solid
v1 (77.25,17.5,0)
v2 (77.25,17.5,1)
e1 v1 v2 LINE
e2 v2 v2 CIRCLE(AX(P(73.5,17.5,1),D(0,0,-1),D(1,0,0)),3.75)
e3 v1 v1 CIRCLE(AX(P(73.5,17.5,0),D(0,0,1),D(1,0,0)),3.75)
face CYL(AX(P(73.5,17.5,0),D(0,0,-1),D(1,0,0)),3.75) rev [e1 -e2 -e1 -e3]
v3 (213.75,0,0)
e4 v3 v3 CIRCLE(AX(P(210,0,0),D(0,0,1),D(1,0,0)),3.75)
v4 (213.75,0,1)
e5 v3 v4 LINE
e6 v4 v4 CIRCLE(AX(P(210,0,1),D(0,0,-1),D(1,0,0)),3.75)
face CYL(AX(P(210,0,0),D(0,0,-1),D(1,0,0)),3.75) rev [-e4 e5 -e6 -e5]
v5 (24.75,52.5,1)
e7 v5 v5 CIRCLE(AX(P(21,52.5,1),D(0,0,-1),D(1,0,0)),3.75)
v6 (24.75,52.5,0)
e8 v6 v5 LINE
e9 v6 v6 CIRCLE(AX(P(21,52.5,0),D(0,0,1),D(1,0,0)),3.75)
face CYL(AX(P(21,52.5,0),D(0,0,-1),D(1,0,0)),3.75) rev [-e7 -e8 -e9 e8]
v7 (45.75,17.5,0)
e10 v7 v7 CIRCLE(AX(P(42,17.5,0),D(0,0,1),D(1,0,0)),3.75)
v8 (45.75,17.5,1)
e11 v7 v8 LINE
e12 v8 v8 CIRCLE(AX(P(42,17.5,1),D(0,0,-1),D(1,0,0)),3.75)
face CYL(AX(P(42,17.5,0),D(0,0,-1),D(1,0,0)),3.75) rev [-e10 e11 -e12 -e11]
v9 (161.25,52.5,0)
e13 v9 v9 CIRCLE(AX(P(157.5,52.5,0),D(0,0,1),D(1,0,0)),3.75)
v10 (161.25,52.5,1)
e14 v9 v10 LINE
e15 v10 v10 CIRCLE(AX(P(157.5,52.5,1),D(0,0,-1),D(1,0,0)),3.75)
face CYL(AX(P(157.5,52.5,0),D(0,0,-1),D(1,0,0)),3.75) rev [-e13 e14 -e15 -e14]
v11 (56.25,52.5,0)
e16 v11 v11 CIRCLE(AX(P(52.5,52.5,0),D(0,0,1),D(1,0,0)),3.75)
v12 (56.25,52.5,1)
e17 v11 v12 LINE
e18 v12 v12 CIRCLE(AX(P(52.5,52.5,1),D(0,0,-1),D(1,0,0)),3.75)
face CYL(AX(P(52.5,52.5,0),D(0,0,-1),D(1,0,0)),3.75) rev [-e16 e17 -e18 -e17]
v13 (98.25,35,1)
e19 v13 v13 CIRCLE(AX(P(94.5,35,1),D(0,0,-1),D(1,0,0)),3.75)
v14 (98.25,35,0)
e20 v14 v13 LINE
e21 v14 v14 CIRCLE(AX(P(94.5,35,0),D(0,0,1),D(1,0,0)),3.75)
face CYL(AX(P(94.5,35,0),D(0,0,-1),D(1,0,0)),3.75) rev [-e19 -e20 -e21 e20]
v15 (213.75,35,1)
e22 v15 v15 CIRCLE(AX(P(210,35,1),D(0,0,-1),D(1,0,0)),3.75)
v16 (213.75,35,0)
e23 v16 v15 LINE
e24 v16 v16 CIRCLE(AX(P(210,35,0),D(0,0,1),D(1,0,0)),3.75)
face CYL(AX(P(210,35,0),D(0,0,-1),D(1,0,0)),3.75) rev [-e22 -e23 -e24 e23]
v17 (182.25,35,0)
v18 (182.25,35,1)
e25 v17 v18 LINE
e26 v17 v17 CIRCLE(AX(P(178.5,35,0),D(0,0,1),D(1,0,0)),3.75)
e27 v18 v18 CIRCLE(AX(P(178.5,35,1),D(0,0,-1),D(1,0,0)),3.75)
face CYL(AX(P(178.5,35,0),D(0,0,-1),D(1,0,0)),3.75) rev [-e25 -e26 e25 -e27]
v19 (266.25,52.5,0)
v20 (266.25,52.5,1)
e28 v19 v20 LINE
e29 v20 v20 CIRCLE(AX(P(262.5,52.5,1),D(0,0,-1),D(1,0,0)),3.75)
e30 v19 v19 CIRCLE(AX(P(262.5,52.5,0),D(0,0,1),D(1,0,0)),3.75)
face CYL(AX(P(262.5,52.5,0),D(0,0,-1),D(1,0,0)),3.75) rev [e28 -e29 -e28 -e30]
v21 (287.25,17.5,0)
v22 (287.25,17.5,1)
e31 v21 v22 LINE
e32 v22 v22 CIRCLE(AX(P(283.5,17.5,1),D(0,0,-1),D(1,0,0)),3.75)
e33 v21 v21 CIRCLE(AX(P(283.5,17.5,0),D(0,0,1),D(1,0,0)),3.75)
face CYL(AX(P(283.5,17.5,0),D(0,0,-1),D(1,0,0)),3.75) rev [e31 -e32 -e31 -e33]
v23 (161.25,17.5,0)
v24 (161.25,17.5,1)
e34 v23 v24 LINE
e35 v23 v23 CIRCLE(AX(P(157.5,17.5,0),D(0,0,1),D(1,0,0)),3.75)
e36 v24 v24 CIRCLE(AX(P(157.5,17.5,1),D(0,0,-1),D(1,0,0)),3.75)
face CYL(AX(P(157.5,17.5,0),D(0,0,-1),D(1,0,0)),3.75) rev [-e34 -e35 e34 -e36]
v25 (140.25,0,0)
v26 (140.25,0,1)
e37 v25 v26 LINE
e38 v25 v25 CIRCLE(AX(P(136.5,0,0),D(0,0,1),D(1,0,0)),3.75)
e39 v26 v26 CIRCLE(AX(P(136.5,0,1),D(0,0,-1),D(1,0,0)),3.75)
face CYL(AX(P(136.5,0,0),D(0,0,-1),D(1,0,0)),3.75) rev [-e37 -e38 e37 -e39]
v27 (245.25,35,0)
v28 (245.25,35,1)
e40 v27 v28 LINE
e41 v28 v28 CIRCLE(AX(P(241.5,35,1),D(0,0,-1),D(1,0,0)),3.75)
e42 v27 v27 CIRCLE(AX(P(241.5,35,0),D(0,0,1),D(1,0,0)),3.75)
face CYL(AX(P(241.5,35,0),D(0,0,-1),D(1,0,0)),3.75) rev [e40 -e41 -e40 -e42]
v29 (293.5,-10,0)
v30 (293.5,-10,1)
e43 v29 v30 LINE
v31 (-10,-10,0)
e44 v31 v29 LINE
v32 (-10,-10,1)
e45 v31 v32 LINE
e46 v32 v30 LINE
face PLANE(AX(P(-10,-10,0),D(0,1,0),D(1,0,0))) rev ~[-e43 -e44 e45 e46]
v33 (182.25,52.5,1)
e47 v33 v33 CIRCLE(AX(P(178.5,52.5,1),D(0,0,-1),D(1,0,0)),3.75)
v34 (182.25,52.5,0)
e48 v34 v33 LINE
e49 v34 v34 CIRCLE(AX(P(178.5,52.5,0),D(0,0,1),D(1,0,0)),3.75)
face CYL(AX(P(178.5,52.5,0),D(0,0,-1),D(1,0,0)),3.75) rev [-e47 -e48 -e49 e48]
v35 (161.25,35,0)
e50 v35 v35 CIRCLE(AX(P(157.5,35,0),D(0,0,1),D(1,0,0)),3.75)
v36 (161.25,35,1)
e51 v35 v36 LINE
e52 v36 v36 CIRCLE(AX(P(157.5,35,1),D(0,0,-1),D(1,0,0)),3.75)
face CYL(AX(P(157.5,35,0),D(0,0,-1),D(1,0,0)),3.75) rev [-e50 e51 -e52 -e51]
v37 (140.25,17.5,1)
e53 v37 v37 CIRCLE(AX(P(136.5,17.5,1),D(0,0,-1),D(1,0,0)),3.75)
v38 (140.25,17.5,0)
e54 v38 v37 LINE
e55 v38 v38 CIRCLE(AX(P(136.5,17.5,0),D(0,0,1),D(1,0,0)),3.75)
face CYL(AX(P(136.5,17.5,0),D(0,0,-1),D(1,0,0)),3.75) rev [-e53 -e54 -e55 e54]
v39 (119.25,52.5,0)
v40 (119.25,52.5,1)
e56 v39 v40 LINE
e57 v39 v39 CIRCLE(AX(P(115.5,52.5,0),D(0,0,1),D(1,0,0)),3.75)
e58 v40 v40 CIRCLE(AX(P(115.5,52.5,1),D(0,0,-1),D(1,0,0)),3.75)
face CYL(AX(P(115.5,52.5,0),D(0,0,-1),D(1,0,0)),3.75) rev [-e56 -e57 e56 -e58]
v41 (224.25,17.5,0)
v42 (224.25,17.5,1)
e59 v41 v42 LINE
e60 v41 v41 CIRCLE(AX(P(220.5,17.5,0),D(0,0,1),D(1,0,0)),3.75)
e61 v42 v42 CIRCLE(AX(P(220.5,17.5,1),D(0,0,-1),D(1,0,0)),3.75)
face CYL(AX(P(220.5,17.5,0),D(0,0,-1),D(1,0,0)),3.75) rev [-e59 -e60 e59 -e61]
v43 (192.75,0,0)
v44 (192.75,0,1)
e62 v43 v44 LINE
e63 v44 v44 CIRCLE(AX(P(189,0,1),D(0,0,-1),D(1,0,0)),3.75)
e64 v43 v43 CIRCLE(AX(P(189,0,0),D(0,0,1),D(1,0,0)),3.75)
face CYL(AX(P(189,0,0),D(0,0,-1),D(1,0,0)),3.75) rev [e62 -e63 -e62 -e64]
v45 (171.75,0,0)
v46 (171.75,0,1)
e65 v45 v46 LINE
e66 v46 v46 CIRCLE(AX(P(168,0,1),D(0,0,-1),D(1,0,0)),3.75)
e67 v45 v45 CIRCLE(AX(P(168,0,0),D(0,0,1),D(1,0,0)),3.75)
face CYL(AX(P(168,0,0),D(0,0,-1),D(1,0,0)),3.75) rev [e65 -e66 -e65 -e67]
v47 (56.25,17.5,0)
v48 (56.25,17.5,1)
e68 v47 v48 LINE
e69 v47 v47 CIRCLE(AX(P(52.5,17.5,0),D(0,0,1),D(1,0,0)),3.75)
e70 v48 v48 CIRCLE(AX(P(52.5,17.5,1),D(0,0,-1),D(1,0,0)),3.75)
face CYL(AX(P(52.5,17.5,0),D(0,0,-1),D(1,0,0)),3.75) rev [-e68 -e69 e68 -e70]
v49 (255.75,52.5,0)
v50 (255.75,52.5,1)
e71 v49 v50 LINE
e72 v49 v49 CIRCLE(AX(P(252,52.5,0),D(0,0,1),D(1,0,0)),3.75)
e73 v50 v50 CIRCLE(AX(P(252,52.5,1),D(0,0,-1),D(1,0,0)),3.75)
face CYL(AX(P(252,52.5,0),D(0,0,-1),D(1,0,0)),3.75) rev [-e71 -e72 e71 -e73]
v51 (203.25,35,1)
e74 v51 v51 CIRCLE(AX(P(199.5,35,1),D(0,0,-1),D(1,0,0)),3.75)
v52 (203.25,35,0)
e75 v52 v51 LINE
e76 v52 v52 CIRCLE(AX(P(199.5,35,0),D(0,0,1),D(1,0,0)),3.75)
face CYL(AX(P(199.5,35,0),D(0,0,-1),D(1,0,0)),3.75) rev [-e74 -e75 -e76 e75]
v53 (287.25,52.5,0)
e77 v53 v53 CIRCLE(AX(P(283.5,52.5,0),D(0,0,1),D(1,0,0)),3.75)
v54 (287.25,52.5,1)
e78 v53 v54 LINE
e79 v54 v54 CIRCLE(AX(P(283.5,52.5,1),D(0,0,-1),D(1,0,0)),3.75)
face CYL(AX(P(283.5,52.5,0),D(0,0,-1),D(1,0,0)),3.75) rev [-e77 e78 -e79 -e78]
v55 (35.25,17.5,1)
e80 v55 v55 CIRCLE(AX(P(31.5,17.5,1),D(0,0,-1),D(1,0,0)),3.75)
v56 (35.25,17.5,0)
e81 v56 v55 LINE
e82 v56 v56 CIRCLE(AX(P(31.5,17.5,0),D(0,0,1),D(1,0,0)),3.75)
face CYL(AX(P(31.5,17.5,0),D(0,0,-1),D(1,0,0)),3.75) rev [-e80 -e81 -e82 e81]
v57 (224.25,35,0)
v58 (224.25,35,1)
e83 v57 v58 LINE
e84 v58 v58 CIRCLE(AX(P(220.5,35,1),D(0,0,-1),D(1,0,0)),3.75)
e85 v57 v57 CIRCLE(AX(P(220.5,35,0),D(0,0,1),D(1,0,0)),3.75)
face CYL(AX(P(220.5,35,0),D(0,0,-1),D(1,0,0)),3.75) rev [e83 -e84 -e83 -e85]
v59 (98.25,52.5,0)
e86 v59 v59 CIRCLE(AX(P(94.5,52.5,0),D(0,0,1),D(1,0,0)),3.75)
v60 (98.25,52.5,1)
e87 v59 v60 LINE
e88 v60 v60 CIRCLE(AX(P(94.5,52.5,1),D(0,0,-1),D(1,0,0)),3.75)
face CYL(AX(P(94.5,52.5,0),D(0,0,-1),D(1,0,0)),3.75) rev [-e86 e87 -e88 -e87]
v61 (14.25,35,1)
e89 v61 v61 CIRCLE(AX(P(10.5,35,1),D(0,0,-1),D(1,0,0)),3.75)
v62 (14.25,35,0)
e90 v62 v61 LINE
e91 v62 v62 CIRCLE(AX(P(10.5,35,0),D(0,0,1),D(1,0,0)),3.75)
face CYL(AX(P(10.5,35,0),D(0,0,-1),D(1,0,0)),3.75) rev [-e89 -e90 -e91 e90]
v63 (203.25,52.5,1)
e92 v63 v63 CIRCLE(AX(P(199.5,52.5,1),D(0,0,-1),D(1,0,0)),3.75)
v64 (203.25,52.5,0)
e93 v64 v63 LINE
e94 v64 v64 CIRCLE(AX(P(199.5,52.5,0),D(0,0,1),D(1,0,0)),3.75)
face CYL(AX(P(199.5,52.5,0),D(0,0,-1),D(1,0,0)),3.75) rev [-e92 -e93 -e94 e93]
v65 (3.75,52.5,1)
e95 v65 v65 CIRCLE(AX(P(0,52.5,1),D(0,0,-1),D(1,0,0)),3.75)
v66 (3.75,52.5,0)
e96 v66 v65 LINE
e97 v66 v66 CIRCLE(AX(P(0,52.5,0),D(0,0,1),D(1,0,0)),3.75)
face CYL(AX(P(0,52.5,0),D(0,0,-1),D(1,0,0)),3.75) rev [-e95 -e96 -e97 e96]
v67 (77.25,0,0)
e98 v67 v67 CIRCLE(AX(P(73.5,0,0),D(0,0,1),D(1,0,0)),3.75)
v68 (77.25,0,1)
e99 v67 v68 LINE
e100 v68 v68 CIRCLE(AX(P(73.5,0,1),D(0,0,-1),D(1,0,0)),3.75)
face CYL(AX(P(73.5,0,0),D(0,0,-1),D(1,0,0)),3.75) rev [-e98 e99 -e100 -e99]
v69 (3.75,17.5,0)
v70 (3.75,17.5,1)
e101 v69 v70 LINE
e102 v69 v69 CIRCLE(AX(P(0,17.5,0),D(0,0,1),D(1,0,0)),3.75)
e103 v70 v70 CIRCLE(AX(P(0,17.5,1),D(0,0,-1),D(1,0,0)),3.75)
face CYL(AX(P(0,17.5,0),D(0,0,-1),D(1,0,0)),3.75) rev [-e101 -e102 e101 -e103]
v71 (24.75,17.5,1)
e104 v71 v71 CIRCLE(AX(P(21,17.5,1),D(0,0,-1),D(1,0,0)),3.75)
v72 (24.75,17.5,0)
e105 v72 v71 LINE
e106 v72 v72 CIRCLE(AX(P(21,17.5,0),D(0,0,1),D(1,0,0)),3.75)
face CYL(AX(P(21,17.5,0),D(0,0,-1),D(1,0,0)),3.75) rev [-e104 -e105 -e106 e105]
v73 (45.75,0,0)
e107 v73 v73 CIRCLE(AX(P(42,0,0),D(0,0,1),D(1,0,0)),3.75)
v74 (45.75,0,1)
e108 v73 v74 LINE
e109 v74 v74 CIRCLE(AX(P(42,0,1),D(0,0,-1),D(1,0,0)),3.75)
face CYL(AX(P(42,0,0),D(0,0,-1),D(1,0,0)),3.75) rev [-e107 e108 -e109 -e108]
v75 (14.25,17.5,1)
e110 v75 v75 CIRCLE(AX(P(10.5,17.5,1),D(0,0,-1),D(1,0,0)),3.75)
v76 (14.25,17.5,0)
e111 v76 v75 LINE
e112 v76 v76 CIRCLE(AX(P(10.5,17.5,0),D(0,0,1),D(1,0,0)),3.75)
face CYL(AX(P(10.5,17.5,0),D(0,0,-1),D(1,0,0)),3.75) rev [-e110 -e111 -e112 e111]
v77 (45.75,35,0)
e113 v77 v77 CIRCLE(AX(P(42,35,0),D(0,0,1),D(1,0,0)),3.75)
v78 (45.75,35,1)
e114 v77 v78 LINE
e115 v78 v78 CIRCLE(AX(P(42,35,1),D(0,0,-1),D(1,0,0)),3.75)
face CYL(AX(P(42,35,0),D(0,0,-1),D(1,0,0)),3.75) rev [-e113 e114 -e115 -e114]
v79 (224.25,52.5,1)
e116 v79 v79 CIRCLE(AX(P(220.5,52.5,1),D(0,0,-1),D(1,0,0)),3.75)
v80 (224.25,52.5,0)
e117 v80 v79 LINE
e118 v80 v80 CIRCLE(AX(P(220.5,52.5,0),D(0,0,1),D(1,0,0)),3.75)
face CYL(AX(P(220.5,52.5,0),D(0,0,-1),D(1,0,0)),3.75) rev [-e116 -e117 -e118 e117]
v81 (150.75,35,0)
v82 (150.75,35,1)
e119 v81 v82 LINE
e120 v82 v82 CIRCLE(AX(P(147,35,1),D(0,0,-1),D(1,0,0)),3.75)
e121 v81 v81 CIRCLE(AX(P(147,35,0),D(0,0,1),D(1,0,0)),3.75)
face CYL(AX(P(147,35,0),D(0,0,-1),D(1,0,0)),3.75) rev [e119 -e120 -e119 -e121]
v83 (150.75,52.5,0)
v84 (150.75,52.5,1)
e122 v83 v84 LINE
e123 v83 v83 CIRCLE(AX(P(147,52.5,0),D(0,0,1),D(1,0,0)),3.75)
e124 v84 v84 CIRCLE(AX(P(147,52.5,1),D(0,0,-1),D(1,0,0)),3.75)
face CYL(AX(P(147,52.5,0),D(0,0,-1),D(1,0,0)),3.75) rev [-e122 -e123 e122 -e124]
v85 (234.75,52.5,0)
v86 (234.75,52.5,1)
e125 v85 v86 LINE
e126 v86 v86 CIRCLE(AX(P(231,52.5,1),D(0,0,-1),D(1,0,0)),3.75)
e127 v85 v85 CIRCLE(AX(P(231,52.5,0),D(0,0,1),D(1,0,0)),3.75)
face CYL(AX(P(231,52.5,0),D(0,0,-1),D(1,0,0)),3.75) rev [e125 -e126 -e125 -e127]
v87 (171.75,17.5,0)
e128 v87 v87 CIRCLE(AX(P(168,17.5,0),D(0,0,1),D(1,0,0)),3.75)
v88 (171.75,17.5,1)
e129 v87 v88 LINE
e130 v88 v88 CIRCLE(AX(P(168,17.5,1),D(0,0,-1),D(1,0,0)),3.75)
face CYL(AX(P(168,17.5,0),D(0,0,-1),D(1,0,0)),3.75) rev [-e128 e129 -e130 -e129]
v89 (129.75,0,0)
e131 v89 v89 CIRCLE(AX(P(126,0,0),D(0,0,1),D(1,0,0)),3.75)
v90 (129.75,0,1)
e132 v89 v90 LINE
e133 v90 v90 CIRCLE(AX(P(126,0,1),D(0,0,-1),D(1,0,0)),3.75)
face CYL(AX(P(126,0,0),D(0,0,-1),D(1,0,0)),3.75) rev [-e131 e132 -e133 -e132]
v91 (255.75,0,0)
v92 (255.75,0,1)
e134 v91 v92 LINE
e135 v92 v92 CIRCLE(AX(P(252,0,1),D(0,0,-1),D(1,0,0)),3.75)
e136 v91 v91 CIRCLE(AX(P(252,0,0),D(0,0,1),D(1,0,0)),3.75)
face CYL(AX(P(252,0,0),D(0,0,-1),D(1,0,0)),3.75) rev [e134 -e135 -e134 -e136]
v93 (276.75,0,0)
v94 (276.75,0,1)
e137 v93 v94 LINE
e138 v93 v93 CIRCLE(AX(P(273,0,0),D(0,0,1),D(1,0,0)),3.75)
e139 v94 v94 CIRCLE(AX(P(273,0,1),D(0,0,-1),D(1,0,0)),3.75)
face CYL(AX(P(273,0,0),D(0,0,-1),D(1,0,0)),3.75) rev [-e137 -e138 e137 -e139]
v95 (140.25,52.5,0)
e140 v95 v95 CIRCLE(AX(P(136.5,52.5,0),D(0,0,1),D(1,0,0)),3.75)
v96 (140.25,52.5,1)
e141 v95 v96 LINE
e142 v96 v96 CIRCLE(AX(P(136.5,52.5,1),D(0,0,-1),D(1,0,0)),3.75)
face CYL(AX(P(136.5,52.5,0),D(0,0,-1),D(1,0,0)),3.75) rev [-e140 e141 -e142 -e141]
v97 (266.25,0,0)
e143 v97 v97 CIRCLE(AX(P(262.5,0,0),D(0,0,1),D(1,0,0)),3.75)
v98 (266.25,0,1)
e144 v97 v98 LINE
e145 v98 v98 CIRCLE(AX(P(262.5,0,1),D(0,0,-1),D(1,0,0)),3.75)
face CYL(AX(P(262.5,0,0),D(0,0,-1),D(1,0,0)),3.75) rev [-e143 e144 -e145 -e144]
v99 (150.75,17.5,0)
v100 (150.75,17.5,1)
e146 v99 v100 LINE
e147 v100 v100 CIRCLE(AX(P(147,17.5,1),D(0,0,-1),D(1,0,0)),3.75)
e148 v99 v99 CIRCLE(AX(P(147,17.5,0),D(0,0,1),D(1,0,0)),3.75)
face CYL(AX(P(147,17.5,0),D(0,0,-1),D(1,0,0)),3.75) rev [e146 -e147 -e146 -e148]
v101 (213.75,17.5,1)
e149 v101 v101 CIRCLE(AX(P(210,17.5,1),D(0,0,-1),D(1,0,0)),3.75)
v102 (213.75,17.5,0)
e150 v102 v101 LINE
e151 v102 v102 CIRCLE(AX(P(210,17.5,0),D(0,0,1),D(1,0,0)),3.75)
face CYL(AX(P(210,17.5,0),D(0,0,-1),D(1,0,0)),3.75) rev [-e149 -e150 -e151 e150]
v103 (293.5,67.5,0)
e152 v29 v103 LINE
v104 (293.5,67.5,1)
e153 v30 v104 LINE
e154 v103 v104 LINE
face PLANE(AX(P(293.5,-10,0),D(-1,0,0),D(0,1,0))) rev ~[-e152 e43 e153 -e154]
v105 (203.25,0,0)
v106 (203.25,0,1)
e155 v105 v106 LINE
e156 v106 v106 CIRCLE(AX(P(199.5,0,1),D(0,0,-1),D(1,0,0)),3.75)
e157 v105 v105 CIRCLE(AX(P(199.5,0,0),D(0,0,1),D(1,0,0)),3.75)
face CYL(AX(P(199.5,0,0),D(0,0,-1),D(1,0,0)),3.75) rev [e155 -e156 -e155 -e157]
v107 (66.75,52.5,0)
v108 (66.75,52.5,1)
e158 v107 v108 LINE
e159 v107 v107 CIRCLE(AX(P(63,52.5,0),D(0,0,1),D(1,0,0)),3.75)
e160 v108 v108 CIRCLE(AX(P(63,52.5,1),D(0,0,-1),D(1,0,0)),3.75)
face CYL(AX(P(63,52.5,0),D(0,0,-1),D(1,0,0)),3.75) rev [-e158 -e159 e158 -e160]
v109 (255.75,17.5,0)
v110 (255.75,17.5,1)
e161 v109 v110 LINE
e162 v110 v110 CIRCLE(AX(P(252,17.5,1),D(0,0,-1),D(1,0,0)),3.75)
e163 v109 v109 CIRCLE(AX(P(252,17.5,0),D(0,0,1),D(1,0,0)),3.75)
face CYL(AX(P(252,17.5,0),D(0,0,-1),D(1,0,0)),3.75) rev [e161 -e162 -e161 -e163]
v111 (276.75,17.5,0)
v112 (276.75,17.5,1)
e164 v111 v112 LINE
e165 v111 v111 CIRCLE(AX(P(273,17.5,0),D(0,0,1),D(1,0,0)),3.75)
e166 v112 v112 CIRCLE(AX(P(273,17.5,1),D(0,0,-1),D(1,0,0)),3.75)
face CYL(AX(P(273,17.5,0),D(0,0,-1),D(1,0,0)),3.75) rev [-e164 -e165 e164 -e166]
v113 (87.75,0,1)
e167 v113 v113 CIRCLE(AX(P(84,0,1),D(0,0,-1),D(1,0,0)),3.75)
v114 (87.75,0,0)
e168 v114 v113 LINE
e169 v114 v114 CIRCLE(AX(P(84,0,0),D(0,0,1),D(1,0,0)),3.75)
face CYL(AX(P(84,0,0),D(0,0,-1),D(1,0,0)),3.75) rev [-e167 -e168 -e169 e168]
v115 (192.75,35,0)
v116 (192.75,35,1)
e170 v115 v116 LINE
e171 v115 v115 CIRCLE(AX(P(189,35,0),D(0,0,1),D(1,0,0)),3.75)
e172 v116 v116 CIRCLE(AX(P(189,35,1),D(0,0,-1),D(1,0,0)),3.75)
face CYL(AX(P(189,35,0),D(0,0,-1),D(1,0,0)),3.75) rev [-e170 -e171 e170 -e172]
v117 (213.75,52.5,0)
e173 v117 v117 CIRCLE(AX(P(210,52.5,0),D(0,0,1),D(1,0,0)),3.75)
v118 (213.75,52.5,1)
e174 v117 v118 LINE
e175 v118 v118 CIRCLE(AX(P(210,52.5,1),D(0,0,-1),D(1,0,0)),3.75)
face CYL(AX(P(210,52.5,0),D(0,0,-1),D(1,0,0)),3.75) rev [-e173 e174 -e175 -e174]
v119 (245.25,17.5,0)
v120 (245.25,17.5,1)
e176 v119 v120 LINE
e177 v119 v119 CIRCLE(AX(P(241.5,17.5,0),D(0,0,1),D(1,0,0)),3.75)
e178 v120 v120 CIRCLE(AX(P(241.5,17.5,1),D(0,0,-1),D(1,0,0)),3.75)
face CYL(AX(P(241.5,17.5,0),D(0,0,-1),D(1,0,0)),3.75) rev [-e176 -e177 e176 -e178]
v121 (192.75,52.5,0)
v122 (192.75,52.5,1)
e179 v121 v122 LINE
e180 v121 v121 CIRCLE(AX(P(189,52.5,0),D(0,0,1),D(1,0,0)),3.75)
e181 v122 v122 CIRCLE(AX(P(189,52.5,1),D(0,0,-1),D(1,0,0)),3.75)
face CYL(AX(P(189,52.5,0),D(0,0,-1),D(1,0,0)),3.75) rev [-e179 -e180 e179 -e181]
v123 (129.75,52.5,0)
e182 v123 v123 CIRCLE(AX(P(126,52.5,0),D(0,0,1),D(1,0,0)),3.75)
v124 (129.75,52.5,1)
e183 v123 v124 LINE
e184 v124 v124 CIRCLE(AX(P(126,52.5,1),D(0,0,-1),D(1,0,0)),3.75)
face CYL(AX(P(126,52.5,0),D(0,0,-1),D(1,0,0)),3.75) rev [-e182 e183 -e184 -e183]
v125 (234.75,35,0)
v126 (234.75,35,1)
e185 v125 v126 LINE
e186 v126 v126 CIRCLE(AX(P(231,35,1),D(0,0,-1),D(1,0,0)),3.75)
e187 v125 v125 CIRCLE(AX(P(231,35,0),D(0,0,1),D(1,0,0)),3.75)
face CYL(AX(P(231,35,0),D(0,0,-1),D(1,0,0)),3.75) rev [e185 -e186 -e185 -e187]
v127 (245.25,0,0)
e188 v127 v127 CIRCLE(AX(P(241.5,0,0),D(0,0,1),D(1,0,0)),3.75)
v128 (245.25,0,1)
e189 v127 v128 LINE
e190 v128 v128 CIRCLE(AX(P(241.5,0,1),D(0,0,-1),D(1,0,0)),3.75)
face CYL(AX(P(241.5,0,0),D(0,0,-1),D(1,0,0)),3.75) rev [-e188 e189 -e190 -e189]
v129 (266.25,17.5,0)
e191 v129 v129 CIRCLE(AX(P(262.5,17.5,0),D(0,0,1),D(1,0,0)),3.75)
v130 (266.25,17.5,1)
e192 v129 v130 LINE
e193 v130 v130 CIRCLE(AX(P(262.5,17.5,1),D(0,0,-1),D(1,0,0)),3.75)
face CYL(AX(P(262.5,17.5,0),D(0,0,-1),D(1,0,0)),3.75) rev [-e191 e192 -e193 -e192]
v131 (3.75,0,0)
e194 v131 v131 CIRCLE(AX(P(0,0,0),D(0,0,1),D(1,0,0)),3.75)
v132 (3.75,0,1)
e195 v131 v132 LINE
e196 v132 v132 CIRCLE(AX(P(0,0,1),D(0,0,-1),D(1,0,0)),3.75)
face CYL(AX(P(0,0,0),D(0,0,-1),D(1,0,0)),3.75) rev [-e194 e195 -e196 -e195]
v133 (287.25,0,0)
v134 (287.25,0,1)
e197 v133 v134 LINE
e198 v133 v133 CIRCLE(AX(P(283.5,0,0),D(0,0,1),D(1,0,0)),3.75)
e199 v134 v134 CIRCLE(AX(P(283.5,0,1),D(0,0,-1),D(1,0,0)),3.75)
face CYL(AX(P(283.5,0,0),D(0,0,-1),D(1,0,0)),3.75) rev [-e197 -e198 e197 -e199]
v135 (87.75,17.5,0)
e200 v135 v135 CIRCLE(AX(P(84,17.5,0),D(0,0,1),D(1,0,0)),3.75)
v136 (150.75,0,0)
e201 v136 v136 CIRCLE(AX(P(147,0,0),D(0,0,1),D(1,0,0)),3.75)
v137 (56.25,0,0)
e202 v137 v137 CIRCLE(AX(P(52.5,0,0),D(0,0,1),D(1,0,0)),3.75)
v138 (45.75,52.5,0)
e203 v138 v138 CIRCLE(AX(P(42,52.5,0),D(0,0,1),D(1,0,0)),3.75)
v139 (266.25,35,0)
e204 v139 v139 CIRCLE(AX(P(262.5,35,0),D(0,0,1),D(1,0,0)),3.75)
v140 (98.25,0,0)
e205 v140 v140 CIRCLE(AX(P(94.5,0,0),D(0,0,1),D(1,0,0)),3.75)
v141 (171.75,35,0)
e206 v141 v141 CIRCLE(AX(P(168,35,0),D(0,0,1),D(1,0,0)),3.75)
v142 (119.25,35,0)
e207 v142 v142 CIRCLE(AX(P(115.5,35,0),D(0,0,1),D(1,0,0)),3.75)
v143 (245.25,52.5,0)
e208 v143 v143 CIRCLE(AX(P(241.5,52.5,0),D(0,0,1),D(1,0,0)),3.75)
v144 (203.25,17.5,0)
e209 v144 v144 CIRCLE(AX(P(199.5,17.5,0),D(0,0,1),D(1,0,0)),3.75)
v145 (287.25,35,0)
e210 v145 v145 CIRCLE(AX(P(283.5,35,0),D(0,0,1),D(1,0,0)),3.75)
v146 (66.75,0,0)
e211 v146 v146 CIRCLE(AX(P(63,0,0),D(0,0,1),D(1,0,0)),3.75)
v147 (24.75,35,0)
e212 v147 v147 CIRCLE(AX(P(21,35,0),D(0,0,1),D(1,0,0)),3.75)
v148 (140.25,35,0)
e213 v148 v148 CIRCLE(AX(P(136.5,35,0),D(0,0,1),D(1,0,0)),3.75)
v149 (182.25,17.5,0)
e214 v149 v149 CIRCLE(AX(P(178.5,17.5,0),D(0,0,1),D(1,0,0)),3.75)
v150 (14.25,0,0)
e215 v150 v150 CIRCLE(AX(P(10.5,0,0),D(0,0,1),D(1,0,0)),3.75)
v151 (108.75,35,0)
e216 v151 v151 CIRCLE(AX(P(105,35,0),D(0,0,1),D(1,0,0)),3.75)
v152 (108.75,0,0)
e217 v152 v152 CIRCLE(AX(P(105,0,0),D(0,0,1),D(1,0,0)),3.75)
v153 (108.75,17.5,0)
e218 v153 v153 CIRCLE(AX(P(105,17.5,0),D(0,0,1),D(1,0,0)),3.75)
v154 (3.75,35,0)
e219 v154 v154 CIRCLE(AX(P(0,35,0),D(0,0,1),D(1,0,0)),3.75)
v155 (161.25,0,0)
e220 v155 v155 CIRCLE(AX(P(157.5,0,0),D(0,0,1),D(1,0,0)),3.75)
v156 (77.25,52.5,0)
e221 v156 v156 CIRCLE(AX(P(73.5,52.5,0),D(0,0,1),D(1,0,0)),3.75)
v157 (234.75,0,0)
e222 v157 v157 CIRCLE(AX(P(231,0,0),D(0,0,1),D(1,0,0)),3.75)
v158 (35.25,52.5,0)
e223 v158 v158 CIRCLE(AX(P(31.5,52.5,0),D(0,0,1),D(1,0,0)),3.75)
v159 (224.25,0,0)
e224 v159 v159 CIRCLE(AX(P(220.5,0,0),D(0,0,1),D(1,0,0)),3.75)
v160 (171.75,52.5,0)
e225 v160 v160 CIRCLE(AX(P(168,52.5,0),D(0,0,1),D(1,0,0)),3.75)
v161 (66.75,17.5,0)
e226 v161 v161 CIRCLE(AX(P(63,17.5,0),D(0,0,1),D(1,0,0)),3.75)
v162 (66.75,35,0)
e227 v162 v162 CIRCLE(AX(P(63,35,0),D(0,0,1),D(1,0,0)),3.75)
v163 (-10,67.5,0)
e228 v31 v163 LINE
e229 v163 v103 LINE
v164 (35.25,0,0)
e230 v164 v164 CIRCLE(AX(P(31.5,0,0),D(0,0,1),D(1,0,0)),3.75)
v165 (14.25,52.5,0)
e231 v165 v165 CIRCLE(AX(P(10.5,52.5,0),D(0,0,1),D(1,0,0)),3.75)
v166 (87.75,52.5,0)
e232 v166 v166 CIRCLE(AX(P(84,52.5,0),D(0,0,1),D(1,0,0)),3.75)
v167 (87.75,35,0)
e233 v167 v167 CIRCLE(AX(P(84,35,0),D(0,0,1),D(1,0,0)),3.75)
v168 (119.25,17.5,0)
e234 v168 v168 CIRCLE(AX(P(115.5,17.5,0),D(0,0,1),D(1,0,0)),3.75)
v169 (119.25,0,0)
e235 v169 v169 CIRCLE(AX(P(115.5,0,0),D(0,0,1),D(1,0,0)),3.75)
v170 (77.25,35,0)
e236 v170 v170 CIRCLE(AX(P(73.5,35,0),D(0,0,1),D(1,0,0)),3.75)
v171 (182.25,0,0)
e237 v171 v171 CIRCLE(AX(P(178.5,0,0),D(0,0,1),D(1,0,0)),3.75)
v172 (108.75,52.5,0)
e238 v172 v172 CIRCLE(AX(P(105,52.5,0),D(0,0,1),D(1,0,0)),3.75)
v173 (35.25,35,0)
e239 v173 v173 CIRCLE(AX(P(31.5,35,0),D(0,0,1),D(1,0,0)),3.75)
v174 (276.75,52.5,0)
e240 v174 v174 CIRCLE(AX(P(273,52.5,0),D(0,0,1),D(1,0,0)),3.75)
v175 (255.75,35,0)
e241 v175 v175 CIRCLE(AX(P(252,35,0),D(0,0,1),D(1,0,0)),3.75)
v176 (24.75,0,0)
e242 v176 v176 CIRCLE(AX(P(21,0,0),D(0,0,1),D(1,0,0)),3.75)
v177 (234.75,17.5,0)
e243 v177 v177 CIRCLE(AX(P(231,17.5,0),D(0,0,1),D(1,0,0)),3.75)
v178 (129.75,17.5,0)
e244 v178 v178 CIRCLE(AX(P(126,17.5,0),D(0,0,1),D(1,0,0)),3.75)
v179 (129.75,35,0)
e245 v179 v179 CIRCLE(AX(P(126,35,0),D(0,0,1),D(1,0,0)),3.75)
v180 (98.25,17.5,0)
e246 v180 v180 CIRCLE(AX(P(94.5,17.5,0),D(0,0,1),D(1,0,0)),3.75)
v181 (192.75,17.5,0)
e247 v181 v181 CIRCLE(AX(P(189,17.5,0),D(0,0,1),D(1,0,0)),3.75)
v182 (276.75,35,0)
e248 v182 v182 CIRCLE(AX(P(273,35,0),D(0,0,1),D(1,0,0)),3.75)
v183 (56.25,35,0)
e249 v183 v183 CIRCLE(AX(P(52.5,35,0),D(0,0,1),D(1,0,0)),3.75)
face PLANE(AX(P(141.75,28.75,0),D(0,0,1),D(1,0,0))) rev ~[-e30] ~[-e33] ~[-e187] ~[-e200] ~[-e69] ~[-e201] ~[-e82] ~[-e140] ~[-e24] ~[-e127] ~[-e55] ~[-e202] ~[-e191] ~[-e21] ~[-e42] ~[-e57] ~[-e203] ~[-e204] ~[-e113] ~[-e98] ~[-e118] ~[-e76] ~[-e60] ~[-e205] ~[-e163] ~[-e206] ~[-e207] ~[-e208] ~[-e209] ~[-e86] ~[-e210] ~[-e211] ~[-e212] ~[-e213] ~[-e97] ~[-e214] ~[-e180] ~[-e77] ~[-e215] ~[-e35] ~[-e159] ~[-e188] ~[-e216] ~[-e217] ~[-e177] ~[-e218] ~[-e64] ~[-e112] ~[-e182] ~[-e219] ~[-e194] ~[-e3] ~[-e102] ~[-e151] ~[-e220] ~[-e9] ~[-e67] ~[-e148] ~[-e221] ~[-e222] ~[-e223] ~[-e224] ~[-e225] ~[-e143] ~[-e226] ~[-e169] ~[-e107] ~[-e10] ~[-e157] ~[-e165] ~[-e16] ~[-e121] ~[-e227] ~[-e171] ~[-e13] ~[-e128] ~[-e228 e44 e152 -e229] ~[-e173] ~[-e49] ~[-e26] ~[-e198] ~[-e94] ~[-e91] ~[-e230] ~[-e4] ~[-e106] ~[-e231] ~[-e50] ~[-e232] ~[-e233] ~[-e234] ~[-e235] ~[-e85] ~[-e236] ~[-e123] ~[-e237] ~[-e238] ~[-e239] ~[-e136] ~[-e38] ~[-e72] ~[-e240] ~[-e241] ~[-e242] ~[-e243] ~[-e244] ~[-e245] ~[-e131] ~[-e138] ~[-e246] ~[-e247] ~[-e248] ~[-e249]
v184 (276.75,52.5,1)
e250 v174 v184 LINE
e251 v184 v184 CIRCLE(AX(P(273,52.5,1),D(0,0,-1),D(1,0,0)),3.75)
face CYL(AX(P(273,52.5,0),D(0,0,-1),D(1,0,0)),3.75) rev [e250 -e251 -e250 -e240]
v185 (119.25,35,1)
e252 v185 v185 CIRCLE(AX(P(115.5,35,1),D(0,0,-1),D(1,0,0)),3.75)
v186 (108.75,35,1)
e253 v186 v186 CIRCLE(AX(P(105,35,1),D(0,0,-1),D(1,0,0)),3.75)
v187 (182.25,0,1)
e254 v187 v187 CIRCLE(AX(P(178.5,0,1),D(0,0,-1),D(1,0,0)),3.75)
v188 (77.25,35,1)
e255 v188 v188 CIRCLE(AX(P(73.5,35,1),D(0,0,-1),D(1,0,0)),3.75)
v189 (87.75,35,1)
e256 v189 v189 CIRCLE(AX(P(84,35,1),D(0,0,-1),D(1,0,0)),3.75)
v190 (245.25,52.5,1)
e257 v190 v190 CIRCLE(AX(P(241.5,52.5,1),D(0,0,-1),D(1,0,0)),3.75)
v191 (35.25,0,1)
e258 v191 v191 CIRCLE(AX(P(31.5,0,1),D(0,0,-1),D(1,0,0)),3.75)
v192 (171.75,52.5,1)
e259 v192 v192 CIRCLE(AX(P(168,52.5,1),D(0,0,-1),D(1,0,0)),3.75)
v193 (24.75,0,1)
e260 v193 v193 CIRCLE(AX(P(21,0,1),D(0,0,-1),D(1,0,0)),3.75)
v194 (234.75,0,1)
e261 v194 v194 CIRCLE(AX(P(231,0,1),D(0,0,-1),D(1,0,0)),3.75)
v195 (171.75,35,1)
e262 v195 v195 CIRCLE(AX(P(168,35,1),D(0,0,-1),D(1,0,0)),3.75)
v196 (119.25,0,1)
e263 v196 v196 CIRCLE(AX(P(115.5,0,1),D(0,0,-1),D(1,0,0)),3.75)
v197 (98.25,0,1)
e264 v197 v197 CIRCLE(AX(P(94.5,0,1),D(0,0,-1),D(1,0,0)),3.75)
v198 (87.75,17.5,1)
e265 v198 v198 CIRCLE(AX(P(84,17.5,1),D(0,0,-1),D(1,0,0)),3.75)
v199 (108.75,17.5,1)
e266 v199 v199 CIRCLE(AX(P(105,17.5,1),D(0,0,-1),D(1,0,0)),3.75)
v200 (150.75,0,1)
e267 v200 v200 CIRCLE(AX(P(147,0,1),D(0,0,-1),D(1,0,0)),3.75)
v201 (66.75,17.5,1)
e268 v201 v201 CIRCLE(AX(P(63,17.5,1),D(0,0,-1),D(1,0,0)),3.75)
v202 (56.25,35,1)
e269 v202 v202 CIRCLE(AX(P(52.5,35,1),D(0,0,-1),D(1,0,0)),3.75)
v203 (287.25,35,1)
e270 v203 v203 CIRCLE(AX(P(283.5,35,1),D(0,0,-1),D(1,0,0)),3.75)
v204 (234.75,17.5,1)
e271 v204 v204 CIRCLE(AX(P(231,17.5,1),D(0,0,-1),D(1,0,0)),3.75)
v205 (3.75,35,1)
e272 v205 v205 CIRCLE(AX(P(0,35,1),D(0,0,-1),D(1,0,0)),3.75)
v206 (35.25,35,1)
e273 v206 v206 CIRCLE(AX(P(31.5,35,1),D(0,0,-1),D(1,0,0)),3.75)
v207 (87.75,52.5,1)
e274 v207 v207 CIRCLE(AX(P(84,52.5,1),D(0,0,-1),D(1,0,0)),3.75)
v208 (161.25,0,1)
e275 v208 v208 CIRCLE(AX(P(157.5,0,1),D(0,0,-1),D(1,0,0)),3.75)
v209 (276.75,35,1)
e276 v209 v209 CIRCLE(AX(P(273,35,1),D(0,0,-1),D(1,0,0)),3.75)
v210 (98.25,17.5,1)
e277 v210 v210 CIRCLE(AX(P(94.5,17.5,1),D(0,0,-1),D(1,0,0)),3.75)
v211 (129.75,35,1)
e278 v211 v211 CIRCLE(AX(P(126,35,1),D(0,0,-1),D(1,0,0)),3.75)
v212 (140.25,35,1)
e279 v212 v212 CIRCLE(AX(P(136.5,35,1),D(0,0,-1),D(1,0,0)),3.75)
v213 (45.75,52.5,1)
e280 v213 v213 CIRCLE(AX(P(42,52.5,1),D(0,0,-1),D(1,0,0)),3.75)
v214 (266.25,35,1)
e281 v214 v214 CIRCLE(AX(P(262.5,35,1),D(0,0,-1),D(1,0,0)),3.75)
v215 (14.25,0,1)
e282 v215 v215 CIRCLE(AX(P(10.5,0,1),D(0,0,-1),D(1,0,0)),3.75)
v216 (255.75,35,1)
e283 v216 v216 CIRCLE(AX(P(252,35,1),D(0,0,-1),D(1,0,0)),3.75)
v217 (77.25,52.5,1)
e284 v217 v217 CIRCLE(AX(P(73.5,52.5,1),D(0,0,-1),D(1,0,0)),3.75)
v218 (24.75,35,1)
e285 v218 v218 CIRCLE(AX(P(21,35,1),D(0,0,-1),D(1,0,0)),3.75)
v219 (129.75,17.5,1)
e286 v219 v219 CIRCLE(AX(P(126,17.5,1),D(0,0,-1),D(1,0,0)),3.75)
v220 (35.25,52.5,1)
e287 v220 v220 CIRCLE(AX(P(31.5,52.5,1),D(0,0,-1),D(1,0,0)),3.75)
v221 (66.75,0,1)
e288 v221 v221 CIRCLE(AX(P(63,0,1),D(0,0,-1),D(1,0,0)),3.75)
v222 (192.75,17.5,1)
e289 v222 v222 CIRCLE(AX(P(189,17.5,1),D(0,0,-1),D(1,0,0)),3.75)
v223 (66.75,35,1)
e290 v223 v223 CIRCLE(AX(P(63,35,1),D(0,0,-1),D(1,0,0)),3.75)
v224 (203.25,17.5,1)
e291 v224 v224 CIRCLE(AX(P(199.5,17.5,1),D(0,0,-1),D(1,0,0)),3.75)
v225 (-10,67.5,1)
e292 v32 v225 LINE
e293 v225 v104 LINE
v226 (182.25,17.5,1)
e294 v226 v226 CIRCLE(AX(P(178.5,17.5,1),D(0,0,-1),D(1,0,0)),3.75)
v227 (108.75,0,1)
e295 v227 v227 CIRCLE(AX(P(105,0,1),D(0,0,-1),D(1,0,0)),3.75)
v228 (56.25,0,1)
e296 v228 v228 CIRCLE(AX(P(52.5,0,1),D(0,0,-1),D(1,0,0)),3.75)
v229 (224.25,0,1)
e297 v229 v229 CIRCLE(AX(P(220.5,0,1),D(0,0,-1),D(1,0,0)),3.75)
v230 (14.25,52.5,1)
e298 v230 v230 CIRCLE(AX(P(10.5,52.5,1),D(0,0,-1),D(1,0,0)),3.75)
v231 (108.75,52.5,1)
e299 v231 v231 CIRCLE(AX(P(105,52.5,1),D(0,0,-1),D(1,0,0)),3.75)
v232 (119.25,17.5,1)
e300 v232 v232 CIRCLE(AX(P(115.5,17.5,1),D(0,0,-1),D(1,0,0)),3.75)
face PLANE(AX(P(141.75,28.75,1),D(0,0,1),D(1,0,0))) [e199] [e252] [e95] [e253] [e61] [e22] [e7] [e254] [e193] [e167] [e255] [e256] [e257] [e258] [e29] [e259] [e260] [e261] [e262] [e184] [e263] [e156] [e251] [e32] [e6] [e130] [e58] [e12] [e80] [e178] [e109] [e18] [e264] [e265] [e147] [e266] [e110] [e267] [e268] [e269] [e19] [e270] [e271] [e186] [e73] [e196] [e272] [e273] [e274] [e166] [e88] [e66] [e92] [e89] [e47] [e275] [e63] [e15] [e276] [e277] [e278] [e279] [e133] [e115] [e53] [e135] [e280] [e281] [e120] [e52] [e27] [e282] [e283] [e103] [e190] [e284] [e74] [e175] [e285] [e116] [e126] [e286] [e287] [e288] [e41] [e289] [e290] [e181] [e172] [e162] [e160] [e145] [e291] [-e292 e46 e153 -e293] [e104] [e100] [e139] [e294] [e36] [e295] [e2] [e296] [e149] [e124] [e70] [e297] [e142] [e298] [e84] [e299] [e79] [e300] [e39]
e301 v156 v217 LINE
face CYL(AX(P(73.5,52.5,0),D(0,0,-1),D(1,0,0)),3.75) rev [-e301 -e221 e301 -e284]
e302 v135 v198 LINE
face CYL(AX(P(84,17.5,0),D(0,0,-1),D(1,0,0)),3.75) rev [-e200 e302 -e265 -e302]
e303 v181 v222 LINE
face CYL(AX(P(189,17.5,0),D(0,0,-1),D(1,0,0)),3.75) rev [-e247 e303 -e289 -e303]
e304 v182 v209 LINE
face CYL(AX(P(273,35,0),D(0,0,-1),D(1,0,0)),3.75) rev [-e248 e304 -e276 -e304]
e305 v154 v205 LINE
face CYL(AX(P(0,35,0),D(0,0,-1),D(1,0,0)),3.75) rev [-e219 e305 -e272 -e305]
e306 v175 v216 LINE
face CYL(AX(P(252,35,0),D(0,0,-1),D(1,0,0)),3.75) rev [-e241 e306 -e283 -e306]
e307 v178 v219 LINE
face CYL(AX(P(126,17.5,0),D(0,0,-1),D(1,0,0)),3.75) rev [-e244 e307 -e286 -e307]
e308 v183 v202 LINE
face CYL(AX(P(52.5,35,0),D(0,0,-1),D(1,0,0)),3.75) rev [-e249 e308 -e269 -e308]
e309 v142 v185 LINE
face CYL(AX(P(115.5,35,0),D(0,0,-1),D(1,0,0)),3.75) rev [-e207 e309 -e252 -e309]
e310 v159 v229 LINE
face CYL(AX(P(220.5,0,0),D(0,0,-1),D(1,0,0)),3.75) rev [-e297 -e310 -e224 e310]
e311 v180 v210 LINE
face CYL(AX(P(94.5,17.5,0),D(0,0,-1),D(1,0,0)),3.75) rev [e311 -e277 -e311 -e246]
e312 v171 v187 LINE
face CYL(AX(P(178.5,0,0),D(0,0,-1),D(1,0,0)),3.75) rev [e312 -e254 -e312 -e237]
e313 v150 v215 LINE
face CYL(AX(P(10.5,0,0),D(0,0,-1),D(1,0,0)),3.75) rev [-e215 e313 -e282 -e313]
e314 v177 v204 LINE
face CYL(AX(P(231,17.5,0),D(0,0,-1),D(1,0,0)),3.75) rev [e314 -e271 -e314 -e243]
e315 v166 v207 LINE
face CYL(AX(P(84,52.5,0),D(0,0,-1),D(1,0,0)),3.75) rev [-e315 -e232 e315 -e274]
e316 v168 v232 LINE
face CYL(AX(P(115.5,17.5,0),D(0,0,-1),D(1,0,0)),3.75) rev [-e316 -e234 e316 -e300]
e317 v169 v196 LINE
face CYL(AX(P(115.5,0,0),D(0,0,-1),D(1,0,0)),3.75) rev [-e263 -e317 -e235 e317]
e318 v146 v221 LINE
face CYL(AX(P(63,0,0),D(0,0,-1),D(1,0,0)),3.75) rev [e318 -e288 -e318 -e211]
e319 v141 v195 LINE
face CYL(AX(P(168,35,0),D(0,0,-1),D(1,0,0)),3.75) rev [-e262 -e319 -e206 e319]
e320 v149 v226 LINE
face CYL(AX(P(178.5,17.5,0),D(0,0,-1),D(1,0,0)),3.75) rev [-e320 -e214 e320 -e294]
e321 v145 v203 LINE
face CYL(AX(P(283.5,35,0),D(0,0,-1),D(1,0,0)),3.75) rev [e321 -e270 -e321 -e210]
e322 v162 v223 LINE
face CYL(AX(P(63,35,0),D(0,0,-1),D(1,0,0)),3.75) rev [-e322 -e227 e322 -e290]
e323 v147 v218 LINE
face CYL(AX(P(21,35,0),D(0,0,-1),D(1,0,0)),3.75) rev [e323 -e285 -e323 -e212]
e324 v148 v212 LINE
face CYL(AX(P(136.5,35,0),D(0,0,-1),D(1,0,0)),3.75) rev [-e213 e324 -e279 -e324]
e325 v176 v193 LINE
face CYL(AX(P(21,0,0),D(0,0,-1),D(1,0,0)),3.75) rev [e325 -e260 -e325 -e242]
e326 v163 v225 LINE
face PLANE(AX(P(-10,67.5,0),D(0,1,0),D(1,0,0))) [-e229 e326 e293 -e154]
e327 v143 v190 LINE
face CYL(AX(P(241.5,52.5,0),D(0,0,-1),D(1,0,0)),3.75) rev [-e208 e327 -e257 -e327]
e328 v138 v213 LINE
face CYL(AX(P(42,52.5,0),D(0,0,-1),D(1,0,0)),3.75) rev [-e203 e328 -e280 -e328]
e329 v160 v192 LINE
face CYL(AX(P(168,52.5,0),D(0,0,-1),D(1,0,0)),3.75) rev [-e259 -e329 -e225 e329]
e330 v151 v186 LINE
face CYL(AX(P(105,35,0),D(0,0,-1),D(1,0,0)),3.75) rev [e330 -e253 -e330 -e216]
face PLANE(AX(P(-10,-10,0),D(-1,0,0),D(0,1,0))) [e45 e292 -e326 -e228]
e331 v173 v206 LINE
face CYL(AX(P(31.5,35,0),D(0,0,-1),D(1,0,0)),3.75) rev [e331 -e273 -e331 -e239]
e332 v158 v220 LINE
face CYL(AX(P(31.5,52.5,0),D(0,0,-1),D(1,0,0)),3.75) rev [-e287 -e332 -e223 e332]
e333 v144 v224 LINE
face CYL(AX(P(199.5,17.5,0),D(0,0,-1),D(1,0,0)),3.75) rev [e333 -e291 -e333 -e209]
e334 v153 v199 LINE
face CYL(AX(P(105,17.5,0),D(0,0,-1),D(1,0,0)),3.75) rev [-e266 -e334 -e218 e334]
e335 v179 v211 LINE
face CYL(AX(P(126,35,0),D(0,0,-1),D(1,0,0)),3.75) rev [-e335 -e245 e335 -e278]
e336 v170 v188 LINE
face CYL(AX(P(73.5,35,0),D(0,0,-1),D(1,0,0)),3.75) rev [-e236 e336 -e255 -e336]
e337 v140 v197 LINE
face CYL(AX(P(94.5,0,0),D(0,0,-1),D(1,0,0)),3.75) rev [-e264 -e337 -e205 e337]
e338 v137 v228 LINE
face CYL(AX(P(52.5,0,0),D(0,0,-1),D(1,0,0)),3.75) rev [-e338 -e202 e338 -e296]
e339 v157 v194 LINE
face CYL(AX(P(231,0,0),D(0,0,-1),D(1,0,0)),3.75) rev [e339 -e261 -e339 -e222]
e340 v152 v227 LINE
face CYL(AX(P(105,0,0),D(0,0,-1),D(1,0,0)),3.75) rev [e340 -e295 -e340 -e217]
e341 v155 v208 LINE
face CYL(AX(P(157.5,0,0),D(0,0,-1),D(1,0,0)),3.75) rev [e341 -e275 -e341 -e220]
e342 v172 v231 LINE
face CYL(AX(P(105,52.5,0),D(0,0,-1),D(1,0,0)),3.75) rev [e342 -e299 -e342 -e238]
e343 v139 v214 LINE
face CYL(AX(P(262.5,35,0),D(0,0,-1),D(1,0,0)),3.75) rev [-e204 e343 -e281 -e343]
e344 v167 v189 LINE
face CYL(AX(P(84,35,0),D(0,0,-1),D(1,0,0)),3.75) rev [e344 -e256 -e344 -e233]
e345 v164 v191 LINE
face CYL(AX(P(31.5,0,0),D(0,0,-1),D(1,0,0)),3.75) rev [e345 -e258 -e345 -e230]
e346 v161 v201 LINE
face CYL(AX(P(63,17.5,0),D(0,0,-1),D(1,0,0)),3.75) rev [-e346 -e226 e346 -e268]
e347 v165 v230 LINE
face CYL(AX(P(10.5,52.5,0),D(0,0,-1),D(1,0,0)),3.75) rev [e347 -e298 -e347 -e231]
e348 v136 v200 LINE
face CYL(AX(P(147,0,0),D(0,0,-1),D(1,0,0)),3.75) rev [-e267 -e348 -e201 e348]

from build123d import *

# Parameters (mm, degrees)
F1_W     = 303.5
F1_H     = 77.5
F2_DEPTH = 1
F0_R     = 3.75
F3_DEPTH = 25


with BuildPart() as f2:
    # F1 (on Top) → F2 (new body)
    with BuildSketch(Plane.XY):
        with Locations((141.75, 28.75)):
            Rectangle(F1_W, F1_H)
    extrude(amount=F2_DEPTH)

    # F0 (on Top) → F3 (cut)
    with BuildSketch(Plane.XY):
        with Locations((115.5, 17.5)):
            Circle(F0_R)
        with Locations((189, 17.5)):
            Circle(F0_R)
        with Locations((84, 0)):
            Circle(F0_R)
        with Locations((52.5, 35)):
            Circle(F0_R)
        with Locations((0, 35)):
            Circle(F0_R)
        with Locations((241.5, 17.5)):
            Circle(F0_R)
        with Locations((136.5, 0)):
            Circle(F0_R)
        with Locations((73.5, 35)):
            Circle(F0_R)
        with Locations((199.5, 0)):
            Circle(F0_R)
        with Locations((21, 35)):
            Circle(F0_R)
        with Locations((84, 17.5)):
            Circle(F0_R)
        with Locations((168, 0)):
            Circle(F0_R)
        with Locations((168, 35)):
            Circle(F0_R)
        with Locations((168, 17.5)):
            Circle(F0_R)
        with Locations((63, 0)):
            Circle(F0_R)
        with Locations((136.5, 35)):
            Circle(F0_R)
        with Locations((252, 17.5)):
            Circle(F0_R)
        with Locations((252, 35)):
            Circle(F0_R)
        with Locations((157.5, 17.5)):
            Circle(F0_R)
        with Locations((52.5, 0)):
            Circle(F0_R)
        with Locations((42, 17.5)):
            Circle(F0_R)
        with Locations((220.5, 17.5)):
            Circle(F0_R)
        with Locations((94.5, 0)):
            Circle(F0_R)
        with Locations((115.5, 35)):
            Circle(F0_R)
        with Locations((126, 17.5)):
            Circle(F0_R)
        with Locations((105, 35)):
            Circle(F0_R)
        with Locations((178.5, 17.5)):
            Circle(F0_R)
        with Locations((73.5, 0)):
            Circle(F0_R)
        with Locations((210, 35)):
            Circle(F0_R)
        with Locations((42, 35)):
            Circle(F0_R)
        with Locations((31.5, 17.5)):
            Circle(F0_R)
        with Locations((10.5, 17.5)):
            Circle(F0_R)
        with Locations((147, 17.5)):
            Circle(F0_R)
        with Locations((21, 0)):
            Circle(F0_R)
        with Locations((73.5, 17.5)):
            Circle(F0_R)
        with Locations((21, 17.5)):
            Circle(F0_R)
        with Locations((115.5, 0)):
            Circle(F0_R)
        with Locations((147, 35)):
            Circle(F0_R)
        with Locations((199.5, 17.5)):
            Circle(F0_R)
        with Locations((189, 0)):
            Circle(F0_R)
        with Locations((210, 17.5)):
            Circle(F0_R)
        with Locations((94.5, 35)):
            Circle(F0_R)
        with Locations((126, 35)):
            Circle(F0_R)
        with Locations((84, 35)):
            Circle(F0_R)
        with Locations((105, 0)):
            Circle(F0_R)
        with Locations((220.5, 35)):
            Circle(F0_R)
        with Locations((252, 0)):
            Circle(F0_R)
        with Locations((157.5, 35)):
            Circle(F0_R)
        with Locations((63, 17.5)):
            Circle(F0_R)
        with Locations((31.5, 0)):
            Circle(F0_R)
        with Locations((63, 35)):
            Circle(F0_R)
        with Locations((178.5, 35)):
            Circle(F0_R)
        with Locations((241.5, 0)):
            Circle(F0_R)
        with Locations((210, 0)):
            Circle(F0_R)
        with Locations((136.5, 17.5)):
            Circle(F0_R)
        with Locations((231, 17.5)):
            Circle(F0_R)
        with Locations((52.5, 17.5)):
            Circle(F0_R)
        with Locations((178.5, 0)):
            Circle(F0_R)
        with Locations((220.5, 0)):
            Circle(F0_R)
        with Locations((189, 35)):
            Circle(F0_R)
        with Locations((147, 0)):
            Circle(F0_R)
        with Locations((94.5, 17.5)):
            Circle(F0_R)
        with Locations((105, 17.5)):
            Circle(F0_R)
        with Locations((10.5, 35)):
            Circle(F0_R)
        with Locations((231, 0)):
            Circle(F0_R)
        with Locations((31.5, 35)):
            Circle(F0_R)
        with Locations((231, 35)):
            Circle(F0_R)
        with Locations((241.5, 35)):
            Circle(F0_R)
        with Locations((157.5, 0)):
            Circle(F0_R)
        with Locations((126, 0)):
            Circle(F0_R)
        with Locations((42, 0)):
            Circle(F0_R)
        with Locations((10.5, 0)):
            Circle(F0_R)
        with Locations((199.5, 35)):
            Circle(F0_R)
        with Locations((0, 17.5)):
            Circle(F0_R)
        Circle(F0_R)
        with Locations((262.5, 35)):
            Circle(F0_R)
        with Locations((273, 35)):
            Circle(F0_R)
        with Locations((283.5, 35)):
            Circle(F0_R)
        with Locations((283.5, 17.5)):
            Circle(F0_R)
        with Locations((273, 17.5)):
            Circle(F0_R)
        with Locations((262.5, 17.5)):
            Circle(F0_R)
        with Locations((262.5, 0)):
            Circle(F0_R)
        with Locations((273, 0)):
            Circle(F0_R)
        with Locations((283.5, 0)):
            Circle(F0_R)
        with Locations((63, 52.5)):
            Circle(F0_R)
        with Locations((94.5, 52.5)):
            Circle(F0_R)
        with Locations((10.5, 52.5)):
            Circle(F0_R)
        with Locations((168, 52.5)):
            Circle(F0_R)
        with Locations((73.5, 52.5)):
            Circle(F0_R)
        with Locations((31.5, 52.5)):
            Circle(F0_R)
        with Locations((126, 52.5)):
            Circle(F0_R)
        with Locations((21, 52.5)):
            Circle(F0_R)
        with Locations((105, 52.5)):
            Circle(F0_R)
        with Locations((115.5, 52.5)):
            Circle(F0_R)
        with Locations((157.5, 52.5)):
            Circle(F0_R)
        with Locations((42, 52.5)):
            Circle(F0_R)
        with Locations((52.5, 52.5)):
            Circle(F0_R)
        with Locations((147, 52.5)):
            Circle(F0_R)
        with Locations((136.5, 52.5)):
            Circle(F0_R)
        with Locations((84, 52.5)):
            Circle(F0_R)
        with Locations((0, 52.5)):
            Circle(F0_R)
        with Locations((283.5, 52.5)):
            Circle(F0_R)
        with Locations((210, 52.5)):
            Circle(F0_R)
        with Locations((231, 52.5)):
            Circle(F0_R)
        with Locations((220.5, 52.5)):
            Circle(F0_R)
        with Locations((273, 52.5)):
            Circle(F0_R)
        with Locations((262.5, 52.5)):
            Circle(F0_R)
        with Locations((178.5, 52.5)):
            Circle(F0_R)
        with Locations((189, 52.5)):
            Circle(F0_R)
        with Locations((199.5, 52.5)):
            Circle(F0_R)
        with Locations((241.5, 52.5)):
            Circle(F0_R)
        with Locations((252, 52.5)):
            Circle(F0_R)
    extrude(amount=F3_DEPTH, mode=Mode.SUBTRACT)


solid = f2.part
